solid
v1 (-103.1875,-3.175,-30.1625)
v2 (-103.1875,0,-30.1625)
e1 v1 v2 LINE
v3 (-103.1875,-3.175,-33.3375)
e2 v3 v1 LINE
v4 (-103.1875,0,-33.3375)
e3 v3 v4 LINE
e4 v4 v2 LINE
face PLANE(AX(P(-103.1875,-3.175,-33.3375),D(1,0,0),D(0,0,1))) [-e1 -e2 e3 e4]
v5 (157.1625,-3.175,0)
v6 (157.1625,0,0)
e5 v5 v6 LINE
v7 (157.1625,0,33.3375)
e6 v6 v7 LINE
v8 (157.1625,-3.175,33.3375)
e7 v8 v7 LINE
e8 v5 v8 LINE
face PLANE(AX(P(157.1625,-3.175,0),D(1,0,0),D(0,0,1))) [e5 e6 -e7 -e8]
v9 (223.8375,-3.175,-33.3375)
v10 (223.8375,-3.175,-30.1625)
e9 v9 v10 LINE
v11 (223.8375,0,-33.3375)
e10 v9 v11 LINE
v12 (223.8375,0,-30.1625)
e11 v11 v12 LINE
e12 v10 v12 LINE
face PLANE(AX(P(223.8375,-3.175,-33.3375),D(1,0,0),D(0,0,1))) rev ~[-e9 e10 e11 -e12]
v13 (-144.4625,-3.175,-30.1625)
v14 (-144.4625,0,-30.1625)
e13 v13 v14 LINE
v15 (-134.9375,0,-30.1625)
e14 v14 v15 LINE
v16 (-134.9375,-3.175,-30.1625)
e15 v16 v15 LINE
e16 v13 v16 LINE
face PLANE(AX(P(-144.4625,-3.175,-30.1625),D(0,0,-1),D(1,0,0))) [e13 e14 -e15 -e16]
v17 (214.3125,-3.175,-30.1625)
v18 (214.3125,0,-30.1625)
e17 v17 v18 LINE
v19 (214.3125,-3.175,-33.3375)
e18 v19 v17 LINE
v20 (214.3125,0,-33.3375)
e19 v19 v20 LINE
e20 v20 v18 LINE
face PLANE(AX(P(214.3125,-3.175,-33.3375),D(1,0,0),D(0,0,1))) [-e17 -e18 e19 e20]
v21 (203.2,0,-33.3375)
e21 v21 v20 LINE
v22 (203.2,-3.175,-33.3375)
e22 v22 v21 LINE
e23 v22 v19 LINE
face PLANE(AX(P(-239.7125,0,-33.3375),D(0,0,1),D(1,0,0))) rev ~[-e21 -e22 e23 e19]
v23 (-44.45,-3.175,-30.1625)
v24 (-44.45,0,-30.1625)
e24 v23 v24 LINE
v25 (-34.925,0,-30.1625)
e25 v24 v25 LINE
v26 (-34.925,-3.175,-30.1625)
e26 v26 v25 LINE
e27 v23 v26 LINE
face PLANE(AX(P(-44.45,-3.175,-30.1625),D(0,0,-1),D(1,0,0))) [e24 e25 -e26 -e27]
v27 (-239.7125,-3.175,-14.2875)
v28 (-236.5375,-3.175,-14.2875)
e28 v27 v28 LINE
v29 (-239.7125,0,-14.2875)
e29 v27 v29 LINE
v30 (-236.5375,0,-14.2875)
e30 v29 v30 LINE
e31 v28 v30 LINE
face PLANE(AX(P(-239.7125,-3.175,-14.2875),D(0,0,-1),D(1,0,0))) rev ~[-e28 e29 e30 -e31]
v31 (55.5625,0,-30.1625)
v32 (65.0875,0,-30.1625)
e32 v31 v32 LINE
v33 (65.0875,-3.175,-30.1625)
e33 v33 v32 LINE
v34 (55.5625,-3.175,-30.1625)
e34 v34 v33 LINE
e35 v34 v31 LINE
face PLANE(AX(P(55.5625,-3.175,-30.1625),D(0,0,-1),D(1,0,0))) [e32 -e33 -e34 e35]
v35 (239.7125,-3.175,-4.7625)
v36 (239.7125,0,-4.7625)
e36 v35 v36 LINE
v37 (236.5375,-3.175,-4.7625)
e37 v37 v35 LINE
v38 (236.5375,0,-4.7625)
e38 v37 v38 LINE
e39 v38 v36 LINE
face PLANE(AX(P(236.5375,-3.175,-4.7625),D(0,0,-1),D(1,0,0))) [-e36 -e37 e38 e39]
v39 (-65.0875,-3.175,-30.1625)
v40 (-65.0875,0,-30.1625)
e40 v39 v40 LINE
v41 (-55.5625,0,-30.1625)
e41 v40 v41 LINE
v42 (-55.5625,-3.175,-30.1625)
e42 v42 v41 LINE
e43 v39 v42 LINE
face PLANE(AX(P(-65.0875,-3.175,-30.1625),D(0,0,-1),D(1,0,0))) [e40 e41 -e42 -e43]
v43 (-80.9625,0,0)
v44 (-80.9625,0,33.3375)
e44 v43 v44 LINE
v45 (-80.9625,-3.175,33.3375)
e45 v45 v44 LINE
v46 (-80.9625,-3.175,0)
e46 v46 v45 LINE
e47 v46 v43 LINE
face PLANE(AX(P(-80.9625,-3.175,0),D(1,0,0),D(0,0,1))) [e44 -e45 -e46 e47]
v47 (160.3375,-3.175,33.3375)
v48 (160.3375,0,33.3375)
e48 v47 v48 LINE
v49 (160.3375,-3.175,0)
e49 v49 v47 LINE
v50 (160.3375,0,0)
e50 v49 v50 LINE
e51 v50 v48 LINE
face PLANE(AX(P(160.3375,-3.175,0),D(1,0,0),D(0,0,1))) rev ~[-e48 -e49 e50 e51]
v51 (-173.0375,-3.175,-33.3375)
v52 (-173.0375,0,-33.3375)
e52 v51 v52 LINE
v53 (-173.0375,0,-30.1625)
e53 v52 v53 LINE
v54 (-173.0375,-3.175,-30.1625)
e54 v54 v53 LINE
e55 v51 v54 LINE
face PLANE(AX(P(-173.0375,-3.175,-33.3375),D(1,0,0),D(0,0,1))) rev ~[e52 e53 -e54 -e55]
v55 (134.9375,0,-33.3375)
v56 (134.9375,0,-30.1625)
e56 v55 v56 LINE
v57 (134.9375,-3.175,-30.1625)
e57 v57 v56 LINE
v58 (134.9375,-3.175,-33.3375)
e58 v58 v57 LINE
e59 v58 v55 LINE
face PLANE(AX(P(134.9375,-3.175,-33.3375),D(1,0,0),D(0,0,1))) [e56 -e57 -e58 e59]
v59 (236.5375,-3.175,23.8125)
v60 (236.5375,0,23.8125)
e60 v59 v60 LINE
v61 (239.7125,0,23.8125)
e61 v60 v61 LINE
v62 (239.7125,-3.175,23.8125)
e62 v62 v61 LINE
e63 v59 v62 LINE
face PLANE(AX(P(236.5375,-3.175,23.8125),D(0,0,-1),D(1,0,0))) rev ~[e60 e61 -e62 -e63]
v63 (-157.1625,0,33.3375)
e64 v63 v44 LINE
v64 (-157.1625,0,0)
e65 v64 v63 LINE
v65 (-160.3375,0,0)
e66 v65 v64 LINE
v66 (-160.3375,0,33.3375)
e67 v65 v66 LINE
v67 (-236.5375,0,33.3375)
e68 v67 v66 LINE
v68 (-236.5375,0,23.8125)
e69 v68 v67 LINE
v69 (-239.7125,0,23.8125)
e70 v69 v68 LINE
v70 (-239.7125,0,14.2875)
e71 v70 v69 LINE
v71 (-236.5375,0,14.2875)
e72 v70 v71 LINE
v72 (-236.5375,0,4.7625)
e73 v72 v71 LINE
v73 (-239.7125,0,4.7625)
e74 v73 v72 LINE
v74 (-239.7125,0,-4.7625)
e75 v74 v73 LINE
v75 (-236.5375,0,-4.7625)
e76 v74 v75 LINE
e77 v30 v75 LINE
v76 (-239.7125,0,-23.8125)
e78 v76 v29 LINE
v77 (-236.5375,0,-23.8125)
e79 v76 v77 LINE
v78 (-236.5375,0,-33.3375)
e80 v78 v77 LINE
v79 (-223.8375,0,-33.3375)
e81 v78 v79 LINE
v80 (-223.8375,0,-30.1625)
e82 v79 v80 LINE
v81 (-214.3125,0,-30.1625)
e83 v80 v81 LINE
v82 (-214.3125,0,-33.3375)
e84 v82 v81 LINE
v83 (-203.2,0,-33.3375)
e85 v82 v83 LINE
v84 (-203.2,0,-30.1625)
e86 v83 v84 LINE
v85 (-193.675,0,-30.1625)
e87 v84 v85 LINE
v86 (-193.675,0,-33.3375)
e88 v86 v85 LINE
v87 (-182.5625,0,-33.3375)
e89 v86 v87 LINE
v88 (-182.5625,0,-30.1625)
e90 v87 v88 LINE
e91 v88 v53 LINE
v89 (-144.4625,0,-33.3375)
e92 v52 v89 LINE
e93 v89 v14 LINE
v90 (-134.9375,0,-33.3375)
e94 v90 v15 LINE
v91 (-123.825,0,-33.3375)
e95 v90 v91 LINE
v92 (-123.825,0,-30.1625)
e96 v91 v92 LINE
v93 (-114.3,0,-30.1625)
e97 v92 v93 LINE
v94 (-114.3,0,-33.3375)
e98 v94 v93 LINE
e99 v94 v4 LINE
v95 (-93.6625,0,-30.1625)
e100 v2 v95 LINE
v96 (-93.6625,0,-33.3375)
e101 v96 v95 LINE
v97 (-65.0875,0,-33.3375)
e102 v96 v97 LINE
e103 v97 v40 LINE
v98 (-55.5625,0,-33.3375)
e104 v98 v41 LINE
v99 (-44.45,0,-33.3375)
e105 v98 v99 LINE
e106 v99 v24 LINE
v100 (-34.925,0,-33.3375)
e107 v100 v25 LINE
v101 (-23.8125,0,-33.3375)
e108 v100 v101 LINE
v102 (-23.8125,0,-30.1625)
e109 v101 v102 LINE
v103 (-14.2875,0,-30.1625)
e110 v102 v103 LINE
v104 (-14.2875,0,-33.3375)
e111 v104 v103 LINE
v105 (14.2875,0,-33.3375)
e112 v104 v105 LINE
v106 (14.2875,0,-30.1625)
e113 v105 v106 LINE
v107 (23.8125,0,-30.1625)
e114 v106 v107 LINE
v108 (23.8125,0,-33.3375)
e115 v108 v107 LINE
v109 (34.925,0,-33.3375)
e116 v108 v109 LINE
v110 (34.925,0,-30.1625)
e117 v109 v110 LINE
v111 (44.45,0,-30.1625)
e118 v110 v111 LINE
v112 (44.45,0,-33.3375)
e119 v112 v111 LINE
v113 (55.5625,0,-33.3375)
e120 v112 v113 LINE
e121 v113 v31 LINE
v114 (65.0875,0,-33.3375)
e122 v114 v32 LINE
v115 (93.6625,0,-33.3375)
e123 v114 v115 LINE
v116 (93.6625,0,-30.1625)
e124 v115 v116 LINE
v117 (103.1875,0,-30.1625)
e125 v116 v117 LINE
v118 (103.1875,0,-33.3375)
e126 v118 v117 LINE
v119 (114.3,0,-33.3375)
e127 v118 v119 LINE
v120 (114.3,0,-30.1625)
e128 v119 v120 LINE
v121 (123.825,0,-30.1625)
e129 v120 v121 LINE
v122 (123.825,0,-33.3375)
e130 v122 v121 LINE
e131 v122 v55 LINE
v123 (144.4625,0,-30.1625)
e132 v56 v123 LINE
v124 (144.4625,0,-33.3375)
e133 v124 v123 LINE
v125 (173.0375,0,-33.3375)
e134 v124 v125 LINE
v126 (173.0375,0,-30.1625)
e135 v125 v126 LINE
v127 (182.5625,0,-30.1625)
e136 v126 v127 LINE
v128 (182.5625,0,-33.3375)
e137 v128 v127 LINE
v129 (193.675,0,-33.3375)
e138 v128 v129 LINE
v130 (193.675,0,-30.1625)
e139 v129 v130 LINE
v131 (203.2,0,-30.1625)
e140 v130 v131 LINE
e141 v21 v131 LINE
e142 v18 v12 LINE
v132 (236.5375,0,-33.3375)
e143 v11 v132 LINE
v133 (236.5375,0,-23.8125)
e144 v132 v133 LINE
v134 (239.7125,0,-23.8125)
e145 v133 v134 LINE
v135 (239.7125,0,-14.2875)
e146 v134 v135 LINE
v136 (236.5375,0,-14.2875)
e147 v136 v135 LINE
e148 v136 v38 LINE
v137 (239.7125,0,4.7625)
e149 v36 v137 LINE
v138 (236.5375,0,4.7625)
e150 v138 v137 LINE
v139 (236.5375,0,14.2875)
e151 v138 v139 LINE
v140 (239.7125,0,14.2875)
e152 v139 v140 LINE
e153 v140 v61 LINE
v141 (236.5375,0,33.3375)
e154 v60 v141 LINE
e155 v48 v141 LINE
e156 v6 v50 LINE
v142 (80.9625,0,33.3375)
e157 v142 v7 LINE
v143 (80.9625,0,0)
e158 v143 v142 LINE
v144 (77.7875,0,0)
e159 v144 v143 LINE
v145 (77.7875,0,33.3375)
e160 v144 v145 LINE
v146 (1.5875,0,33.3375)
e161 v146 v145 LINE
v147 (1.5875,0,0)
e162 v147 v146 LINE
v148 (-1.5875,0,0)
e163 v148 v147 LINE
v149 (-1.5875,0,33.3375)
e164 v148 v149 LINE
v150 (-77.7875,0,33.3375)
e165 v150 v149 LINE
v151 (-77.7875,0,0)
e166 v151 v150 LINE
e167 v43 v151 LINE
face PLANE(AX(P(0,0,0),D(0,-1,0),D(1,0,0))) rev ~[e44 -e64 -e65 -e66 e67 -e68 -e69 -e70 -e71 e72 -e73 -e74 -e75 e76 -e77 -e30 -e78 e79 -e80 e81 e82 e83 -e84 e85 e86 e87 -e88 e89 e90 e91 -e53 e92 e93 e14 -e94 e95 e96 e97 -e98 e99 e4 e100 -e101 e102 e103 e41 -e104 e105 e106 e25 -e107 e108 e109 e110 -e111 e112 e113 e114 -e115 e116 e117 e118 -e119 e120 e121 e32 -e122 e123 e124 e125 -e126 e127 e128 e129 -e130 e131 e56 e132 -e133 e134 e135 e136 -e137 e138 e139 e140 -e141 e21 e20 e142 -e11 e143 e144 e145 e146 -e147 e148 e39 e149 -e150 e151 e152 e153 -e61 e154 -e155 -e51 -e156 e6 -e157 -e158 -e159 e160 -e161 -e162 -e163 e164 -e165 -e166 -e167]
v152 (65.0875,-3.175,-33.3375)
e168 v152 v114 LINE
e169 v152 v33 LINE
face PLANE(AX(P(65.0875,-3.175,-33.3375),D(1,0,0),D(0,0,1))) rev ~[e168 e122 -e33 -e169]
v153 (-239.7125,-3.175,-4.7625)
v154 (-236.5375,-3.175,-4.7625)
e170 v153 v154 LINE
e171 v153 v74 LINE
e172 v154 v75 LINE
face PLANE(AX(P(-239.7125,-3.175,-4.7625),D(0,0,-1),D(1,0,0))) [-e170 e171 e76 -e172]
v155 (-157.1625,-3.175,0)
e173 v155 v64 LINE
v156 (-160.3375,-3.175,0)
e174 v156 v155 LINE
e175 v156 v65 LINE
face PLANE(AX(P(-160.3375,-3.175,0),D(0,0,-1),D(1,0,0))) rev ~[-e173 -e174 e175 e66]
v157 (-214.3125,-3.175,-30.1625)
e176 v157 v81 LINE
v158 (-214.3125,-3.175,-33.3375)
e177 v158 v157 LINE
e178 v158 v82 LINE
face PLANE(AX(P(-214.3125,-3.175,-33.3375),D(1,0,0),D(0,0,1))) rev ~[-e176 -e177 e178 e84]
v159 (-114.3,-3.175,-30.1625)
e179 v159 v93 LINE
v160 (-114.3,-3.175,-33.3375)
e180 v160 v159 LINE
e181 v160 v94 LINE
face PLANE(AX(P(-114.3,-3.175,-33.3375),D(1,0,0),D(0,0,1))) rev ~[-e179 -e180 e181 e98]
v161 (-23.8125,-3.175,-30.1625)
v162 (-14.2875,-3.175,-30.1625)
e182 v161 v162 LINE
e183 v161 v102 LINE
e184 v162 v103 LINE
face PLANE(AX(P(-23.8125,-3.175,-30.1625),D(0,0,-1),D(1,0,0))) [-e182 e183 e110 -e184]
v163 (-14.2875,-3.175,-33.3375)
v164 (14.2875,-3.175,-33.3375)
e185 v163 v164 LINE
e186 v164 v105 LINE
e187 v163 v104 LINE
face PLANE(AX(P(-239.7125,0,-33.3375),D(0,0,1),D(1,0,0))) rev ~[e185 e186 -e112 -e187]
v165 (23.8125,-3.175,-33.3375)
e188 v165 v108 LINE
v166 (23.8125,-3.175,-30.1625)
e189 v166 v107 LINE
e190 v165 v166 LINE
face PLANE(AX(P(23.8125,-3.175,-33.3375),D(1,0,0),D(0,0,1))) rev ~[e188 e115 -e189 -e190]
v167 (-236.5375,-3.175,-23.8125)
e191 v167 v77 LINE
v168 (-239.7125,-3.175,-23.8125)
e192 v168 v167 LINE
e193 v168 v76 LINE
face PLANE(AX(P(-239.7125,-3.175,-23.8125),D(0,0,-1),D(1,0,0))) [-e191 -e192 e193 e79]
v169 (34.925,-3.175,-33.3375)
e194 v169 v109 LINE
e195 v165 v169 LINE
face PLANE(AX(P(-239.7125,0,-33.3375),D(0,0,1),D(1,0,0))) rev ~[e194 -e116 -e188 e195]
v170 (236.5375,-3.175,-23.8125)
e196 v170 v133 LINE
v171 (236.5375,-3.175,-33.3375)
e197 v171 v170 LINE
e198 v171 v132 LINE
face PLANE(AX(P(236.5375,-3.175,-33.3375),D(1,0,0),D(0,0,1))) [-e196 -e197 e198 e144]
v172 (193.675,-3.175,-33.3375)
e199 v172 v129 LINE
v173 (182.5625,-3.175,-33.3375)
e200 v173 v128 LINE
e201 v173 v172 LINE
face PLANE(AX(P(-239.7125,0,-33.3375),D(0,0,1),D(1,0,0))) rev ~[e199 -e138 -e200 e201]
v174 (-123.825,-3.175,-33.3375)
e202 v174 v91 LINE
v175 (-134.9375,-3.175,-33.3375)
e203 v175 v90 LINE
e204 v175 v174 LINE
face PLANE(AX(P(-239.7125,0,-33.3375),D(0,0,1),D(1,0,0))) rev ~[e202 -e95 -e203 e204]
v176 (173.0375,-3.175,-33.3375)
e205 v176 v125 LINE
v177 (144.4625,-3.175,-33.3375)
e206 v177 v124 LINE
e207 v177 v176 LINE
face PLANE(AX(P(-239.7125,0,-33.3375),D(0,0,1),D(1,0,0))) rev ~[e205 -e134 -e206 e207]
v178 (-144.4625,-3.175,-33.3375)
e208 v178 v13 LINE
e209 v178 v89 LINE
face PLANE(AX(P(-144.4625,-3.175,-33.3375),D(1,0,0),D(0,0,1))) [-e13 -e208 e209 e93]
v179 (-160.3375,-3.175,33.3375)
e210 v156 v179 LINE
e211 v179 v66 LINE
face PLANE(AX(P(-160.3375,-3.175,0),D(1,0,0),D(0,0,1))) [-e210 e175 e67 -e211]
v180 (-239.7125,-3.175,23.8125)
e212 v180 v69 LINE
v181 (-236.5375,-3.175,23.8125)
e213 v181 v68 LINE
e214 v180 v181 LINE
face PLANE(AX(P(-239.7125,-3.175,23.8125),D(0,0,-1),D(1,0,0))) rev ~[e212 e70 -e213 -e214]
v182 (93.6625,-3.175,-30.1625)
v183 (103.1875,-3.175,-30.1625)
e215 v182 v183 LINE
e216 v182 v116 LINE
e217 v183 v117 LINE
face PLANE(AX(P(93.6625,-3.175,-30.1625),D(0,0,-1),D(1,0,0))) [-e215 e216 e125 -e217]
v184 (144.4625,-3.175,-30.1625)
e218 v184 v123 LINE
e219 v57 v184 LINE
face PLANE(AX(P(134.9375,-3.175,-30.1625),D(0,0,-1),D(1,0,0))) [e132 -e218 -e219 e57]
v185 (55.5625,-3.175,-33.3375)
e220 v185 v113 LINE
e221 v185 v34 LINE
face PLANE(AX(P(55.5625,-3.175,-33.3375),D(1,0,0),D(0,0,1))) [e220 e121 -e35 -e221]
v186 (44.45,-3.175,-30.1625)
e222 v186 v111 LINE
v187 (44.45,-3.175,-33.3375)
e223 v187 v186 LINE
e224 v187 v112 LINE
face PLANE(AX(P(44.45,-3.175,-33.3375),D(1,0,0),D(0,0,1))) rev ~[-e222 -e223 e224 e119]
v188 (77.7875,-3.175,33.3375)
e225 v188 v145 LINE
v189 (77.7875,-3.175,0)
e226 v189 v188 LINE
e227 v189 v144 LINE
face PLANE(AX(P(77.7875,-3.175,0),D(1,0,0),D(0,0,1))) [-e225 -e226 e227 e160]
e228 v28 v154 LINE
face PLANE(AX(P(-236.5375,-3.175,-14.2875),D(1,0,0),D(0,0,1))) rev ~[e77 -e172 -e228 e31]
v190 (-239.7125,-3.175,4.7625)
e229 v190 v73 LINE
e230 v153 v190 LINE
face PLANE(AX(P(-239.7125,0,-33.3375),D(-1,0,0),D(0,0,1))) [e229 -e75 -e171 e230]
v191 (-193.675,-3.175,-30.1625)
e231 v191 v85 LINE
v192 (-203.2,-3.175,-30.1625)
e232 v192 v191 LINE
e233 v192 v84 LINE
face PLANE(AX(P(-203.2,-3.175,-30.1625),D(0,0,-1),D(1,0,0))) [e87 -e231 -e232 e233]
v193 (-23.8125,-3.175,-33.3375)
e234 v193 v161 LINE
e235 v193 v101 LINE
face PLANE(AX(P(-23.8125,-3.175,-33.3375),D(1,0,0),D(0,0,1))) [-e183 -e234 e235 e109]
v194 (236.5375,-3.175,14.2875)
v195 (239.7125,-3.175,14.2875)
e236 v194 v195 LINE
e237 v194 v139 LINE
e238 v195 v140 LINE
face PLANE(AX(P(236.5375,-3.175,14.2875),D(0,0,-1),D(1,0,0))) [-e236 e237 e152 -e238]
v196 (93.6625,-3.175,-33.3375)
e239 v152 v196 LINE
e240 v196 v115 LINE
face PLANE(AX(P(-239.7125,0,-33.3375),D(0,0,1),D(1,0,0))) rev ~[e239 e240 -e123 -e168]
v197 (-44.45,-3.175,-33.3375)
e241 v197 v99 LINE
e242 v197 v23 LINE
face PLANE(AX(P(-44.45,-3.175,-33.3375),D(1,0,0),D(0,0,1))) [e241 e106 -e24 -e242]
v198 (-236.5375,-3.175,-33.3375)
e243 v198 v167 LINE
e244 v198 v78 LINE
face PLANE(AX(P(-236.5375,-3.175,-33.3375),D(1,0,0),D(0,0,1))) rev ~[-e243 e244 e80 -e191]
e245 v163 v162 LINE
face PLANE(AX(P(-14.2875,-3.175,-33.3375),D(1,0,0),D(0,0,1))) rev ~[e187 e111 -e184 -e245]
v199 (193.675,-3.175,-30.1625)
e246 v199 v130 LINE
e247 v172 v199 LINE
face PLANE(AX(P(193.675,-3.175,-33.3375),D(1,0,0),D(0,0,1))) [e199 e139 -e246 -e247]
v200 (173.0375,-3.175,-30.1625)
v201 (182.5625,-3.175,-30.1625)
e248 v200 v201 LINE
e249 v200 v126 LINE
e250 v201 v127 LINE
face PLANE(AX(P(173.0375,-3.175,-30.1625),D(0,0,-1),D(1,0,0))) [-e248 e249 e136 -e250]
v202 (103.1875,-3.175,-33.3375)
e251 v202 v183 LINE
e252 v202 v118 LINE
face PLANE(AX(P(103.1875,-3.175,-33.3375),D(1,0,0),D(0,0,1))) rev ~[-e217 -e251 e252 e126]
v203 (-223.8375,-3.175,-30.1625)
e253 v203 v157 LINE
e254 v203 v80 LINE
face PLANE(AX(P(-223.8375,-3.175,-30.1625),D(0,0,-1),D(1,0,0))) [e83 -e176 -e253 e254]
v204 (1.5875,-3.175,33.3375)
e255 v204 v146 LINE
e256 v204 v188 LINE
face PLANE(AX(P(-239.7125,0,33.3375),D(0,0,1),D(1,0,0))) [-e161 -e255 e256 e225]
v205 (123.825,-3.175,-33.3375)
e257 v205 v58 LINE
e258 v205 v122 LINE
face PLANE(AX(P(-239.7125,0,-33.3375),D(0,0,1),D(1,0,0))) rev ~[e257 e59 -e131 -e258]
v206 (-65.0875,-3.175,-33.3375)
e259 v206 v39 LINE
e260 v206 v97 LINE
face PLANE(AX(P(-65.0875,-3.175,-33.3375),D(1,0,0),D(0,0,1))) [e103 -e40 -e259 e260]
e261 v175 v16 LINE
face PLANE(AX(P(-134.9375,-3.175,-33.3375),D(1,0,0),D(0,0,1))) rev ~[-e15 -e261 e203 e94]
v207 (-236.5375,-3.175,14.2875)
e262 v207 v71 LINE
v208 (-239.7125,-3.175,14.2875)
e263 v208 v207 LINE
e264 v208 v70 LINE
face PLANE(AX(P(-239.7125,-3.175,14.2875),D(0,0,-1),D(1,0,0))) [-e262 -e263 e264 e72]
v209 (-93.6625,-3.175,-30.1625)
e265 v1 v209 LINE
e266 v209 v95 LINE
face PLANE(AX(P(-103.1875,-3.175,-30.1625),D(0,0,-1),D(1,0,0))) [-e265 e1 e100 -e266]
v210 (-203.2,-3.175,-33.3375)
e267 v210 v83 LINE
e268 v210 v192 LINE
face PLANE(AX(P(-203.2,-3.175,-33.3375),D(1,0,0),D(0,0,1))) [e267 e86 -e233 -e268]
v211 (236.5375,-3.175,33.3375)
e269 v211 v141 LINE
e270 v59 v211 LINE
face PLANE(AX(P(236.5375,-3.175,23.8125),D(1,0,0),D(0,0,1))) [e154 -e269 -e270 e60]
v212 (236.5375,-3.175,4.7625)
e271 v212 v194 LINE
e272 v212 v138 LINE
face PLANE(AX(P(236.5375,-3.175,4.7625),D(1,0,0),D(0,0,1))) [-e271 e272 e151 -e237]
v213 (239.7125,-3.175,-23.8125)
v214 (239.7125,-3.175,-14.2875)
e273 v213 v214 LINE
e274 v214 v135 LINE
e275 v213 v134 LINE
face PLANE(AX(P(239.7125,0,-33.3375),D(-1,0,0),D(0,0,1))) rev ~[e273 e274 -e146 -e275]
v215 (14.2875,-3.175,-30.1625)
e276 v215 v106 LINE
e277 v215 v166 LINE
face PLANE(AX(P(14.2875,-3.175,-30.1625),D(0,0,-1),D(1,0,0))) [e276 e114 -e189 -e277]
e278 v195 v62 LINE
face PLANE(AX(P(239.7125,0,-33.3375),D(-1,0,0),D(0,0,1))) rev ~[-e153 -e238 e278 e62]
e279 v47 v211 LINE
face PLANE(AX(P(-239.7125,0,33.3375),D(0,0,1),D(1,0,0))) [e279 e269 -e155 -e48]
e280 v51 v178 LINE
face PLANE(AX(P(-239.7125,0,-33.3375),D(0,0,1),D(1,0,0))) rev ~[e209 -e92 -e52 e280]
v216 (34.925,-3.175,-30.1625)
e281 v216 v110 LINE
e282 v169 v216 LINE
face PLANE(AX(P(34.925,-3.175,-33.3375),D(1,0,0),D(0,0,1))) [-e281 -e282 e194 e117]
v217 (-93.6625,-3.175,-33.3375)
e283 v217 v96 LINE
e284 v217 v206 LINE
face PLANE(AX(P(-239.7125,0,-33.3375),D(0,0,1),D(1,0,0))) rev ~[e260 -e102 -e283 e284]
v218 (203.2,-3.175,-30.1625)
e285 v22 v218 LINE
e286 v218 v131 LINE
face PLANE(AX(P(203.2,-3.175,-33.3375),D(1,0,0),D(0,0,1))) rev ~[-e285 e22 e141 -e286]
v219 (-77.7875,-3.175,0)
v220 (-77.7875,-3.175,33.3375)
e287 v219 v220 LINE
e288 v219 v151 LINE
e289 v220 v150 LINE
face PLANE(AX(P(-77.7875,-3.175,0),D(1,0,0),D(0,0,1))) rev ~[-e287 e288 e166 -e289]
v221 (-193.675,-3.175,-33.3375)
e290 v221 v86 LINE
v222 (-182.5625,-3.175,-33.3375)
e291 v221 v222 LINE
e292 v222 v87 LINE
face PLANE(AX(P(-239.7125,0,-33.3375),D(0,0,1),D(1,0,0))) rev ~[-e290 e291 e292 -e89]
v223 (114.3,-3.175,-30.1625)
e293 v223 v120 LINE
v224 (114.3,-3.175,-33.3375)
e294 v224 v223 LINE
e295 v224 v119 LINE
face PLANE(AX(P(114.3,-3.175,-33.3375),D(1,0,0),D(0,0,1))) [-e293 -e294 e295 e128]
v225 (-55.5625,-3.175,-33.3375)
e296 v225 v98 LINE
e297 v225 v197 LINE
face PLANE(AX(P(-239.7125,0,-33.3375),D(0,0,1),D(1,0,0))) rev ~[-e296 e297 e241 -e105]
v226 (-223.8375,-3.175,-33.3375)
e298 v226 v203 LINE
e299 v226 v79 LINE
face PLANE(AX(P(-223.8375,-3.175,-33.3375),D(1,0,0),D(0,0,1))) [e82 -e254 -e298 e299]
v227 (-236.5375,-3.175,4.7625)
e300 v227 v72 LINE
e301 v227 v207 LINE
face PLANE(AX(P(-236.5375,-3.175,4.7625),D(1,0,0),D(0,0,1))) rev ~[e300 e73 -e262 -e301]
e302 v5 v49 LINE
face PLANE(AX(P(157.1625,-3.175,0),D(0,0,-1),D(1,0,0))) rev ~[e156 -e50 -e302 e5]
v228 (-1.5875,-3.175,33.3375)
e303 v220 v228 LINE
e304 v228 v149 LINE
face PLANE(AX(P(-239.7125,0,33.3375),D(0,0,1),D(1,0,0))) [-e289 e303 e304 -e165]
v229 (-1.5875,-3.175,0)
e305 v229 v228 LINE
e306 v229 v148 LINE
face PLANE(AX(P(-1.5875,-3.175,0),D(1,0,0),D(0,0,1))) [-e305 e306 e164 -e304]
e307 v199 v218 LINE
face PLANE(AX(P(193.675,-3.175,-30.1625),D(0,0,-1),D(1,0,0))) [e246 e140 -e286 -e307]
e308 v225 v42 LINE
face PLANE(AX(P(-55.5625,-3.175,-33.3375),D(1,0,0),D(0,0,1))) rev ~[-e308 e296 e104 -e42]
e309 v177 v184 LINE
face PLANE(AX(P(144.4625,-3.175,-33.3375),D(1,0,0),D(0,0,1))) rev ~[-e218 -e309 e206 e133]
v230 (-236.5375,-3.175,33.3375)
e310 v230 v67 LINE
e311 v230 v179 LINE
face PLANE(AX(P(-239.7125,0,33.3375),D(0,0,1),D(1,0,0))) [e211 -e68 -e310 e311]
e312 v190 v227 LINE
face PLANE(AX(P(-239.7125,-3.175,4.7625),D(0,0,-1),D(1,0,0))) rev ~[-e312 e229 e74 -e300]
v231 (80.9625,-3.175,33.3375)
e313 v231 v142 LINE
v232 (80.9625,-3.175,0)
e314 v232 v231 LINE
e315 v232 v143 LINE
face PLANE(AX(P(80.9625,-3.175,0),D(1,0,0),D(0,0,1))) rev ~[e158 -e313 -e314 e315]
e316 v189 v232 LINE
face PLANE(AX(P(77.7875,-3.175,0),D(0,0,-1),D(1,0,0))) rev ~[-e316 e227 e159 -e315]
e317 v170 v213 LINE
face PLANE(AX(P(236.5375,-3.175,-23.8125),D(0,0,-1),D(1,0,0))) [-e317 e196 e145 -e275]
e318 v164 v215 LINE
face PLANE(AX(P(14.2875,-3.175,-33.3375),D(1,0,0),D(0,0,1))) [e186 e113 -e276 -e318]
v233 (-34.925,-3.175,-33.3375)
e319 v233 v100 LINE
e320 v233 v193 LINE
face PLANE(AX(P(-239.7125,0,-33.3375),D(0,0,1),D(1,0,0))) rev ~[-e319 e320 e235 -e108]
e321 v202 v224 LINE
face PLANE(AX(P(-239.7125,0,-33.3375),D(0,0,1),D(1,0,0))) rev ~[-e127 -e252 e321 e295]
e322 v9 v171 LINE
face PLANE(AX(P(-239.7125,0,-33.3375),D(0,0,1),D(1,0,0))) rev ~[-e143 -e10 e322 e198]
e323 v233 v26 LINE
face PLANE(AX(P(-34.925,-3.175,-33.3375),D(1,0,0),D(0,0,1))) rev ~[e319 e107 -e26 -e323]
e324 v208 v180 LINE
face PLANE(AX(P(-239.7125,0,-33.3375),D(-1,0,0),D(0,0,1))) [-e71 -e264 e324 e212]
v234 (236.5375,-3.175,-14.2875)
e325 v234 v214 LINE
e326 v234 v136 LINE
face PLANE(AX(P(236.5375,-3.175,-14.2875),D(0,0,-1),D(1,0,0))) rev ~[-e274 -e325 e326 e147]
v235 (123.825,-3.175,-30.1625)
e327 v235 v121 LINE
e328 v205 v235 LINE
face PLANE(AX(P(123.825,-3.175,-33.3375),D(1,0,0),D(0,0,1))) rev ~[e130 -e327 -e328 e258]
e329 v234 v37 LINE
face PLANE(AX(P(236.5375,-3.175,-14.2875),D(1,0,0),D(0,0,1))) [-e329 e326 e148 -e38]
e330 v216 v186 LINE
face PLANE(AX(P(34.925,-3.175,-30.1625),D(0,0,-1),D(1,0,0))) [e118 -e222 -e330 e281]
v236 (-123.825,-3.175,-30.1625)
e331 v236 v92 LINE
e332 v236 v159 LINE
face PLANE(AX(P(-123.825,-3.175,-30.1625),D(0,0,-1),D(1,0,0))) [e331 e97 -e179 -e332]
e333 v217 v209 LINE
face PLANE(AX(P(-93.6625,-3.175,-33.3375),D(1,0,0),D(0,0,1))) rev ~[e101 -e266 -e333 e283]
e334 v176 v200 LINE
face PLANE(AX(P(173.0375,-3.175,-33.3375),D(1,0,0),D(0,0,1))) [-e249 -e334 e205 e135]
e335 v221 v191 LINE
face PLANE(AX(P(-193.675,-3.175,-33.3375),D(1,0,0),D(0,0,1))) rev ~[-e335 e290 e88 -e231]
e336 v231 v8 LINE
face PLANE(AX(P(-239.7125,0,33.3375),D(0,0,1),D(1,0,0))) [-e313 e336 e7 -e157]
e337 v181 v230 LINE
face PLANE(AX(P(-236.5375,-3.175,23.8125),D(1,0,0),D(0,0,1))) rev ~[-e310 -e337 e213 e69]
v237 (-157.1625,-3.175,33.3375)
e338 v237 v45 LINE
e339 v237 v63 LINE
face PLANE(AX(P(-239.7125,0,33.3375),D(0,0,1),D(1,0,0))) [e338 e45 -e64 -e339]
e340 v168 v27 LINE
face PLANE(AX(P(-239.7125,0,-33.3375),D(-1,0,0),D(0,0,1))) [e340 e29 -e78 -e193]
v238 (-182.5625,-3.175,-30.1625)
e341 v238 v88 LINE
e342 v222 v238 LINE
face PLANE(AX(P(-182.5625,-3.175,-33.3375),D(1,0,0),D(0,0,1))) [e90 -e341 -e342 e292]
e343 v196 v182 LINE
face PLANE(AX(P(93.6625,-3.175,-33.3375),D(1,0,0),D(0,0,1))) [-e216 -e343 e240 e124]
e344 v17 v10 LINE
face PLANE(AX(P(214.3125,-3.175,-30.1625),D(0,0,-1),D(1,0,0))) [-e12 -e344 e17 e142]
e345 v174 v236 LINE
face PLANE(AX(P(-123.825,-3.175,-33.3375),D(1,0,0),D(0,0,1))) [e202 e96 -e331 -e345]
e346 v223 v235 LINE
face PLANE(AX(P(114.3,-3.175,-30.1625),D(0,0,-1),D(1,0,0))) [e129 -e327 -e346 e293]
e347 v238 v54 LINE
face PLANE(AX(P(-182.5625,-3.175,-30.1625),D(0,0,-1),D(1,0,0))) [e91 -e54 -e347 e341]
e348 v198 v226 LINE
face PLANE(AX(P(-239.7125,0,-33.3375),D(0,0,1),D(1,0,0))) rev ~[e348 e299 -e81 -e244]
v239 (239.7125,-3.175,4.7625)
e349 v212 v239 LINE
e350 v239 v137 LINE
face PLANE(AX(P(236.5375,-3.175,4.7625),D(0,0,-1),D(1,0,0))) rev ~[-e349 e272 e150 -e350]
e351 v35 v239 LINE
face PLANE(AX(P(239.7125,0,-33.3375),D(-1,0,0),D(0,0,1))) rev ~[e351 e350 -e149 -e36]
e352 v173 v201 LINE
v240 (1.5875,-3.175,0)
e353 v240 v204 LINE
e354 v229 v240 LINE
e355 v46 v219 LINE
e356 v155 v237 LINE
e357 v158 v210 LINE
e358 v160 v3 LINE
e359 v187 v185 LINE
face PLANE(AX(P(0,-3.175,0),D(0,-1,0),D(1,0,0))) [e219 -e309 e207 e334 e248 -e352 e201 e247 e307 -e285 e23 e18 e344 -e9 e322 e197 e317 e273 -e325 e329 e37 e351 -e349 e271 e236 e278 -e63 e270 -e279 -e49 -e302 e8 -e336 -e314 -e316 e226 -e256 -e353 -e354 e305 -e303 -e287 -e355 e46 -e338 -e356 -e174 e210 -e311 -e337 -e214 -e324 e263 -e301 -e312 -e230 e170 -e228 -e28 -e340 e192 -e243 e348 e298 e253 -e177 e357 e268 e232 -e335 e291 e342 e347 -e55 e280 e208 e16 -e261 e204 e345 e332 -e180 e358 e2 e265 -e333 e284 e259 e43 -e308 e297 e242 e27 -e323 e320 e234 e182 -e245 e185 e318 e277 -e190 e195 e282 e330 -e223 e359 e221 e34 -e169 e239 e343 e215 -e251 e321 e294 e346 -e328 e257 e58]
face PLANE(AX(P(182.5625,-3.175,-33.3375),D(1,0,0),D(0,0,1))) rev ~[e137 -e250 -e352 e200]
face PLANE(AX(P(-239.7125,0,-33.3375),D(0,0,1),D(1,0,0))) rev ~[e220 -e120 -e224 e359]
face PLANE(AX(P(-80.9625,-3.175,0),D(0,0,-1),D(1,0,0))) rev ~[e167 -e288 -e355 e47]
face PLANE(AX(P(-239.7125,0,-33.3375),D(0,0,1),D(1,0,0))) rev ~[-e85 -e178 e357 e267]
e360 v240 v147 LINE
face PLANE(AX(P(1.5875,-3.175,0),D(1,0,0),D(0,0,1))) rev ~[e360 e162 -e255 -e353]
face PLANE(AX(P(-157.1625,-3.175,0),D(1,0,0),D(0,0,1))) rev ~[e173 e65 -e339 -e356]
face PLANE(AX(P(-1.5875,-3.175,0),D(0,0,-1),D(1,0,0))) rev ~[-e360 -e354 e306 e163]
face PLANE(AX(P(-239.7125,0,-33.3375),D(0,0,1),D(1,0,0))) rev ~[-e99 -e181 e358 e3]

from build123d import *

# Parameters (mm, degrees)
F0_W     = 479.425
F0_H     = 66.675
F1_DEPTH = 3.175
F2_W     = 3.175
F2_H     = 9.525
F3_DEPTH = 3.176
F4_W     = 3.175
F4_H     = 33.3375
F5_DEPTH = 3.176
F6_W     = 9.525
F6_H     = 3.175
F7_DEPTH = 3.176


with BuildPart() as f1:
    # F0 (on Front) → F1 (new body)
    with BuildSketch(Plane.XZ):
        Rectangle(F0_W, F0_H)
    extrude(amount=F1_DEPTH)

    # F2 (on face) → F3 (cut, through all)
    with BuildSketch(Plane.XZ.offset(3.175)):
        with Locations((-238.125, -28.575)):
            Rectangle(F2_W, F2_H)
        with Locations((-238.125, -9.525)):
            Rectangle(F2_W, F2_H)
        with Locations((-238.125, 9.525)):
            Rectangle(F2_W, F2_H)
        with Locations((-238.125, 28.575)):
            Rectangle(F2_W, F2_H)
        with Locations((238.125, -28.575)):
            Rectangle(F2_W, F2_H)
        with Locations((238.125, -9.525)):
            Rectangle(F2_W, F2_H)
        with Locations((238.125, 9.525)):
            Rectangle(F2_W, F2_H)
        with Locations((238.125, 28.575)):
            Rectangle(F2_W, F2_H)
    extrude(amount=-F3_DEPTH, mode=Mode.SUBTRACT)

    # F4 (on face) → F5 (cut, through all)
    with BuildSketch(Plane.XZ.offset(3.175)):
        with Locations((-158.75, 16.66875)):
            Rectangle(F4_W, F4_H)
        with Locations((-79.375, 16.66875)):
            Rectangle(F4_W, F4_H)
        with Locations((0, 16.66875)):
            Rectangle(F4_W, F4_H)
        with Locations((79.375, 16.66875)):
            Rectangle(F4_W, F4_H)
        with Locations((158.75, 16.66875)):
            Rectangle(F4_W, F4_H)
    extrude(amount=-F5_DEPTH, mode=Mode.SUBTRACT)

    # F6 (on face) → F7 (cut, through all)
    with BuildSketch(Plane.XZ.offset(3.175)):
        with Locations((-219.075, -31.75)):
            Rectangle(F6_W, F6_H)
        with Locations((-198.4375, -31.75)):
            Rectangle(F6_W, F6_H)
        with Locations((-177.8, -31.75)):
            Rectangle(F6_W, F6_H)
        with Locations((-139.7, -31.75)):
            Rectangle(F6_W, F6_H)
        with Locations((-119.0625, -31.75)):
            Rectangle(F6_W, F6_H)
        with Locations((-98.425, -31.75)):
            Rectangle(F6_W, F6_H)
        with Locations((-60.325, -31.75)):
            Rectangle(F6_W, F6_H)
        with Locations((-39.6875, -31.75)):
            Rectangle(F6_W, F6_H)
        with Locations((-19.05, -31.75)):
            Rectangle(F6_W, F6_H)
        with Locations((19.05, -31.75)):
            Rectangle(F6_W, F6_H)
        with Locations((39.6875, -31.75)):
            Rectangle(F6_W, F6_H)
        with Locations((60.325, -31.75)):
            Rectangle(F6_W, F6_H)
        with Locations((98.425, -31.75)):
            Rectangle(F6_W, F6_H)
        with Locations((119.0625, -31.75)):
            Rectangle(F6_W, F6_H)
        with Locations((139.7, -31.75)):
            Rectangle(F6_W, F6_H)
        with Locations((177.8, -31.75)):
            Rectangle(F6_W, F6_H)
        with Locations((198.4375, -31.75)):
            Rectangle(F6_W, F6_H)
        with Locations((219.075, -31.75)):
            Rectangle(F6_W, F6_H)
    extrude(amount=-F7_DEPTH, mode=Mode.SUBTRACT)


solid = f1.part
